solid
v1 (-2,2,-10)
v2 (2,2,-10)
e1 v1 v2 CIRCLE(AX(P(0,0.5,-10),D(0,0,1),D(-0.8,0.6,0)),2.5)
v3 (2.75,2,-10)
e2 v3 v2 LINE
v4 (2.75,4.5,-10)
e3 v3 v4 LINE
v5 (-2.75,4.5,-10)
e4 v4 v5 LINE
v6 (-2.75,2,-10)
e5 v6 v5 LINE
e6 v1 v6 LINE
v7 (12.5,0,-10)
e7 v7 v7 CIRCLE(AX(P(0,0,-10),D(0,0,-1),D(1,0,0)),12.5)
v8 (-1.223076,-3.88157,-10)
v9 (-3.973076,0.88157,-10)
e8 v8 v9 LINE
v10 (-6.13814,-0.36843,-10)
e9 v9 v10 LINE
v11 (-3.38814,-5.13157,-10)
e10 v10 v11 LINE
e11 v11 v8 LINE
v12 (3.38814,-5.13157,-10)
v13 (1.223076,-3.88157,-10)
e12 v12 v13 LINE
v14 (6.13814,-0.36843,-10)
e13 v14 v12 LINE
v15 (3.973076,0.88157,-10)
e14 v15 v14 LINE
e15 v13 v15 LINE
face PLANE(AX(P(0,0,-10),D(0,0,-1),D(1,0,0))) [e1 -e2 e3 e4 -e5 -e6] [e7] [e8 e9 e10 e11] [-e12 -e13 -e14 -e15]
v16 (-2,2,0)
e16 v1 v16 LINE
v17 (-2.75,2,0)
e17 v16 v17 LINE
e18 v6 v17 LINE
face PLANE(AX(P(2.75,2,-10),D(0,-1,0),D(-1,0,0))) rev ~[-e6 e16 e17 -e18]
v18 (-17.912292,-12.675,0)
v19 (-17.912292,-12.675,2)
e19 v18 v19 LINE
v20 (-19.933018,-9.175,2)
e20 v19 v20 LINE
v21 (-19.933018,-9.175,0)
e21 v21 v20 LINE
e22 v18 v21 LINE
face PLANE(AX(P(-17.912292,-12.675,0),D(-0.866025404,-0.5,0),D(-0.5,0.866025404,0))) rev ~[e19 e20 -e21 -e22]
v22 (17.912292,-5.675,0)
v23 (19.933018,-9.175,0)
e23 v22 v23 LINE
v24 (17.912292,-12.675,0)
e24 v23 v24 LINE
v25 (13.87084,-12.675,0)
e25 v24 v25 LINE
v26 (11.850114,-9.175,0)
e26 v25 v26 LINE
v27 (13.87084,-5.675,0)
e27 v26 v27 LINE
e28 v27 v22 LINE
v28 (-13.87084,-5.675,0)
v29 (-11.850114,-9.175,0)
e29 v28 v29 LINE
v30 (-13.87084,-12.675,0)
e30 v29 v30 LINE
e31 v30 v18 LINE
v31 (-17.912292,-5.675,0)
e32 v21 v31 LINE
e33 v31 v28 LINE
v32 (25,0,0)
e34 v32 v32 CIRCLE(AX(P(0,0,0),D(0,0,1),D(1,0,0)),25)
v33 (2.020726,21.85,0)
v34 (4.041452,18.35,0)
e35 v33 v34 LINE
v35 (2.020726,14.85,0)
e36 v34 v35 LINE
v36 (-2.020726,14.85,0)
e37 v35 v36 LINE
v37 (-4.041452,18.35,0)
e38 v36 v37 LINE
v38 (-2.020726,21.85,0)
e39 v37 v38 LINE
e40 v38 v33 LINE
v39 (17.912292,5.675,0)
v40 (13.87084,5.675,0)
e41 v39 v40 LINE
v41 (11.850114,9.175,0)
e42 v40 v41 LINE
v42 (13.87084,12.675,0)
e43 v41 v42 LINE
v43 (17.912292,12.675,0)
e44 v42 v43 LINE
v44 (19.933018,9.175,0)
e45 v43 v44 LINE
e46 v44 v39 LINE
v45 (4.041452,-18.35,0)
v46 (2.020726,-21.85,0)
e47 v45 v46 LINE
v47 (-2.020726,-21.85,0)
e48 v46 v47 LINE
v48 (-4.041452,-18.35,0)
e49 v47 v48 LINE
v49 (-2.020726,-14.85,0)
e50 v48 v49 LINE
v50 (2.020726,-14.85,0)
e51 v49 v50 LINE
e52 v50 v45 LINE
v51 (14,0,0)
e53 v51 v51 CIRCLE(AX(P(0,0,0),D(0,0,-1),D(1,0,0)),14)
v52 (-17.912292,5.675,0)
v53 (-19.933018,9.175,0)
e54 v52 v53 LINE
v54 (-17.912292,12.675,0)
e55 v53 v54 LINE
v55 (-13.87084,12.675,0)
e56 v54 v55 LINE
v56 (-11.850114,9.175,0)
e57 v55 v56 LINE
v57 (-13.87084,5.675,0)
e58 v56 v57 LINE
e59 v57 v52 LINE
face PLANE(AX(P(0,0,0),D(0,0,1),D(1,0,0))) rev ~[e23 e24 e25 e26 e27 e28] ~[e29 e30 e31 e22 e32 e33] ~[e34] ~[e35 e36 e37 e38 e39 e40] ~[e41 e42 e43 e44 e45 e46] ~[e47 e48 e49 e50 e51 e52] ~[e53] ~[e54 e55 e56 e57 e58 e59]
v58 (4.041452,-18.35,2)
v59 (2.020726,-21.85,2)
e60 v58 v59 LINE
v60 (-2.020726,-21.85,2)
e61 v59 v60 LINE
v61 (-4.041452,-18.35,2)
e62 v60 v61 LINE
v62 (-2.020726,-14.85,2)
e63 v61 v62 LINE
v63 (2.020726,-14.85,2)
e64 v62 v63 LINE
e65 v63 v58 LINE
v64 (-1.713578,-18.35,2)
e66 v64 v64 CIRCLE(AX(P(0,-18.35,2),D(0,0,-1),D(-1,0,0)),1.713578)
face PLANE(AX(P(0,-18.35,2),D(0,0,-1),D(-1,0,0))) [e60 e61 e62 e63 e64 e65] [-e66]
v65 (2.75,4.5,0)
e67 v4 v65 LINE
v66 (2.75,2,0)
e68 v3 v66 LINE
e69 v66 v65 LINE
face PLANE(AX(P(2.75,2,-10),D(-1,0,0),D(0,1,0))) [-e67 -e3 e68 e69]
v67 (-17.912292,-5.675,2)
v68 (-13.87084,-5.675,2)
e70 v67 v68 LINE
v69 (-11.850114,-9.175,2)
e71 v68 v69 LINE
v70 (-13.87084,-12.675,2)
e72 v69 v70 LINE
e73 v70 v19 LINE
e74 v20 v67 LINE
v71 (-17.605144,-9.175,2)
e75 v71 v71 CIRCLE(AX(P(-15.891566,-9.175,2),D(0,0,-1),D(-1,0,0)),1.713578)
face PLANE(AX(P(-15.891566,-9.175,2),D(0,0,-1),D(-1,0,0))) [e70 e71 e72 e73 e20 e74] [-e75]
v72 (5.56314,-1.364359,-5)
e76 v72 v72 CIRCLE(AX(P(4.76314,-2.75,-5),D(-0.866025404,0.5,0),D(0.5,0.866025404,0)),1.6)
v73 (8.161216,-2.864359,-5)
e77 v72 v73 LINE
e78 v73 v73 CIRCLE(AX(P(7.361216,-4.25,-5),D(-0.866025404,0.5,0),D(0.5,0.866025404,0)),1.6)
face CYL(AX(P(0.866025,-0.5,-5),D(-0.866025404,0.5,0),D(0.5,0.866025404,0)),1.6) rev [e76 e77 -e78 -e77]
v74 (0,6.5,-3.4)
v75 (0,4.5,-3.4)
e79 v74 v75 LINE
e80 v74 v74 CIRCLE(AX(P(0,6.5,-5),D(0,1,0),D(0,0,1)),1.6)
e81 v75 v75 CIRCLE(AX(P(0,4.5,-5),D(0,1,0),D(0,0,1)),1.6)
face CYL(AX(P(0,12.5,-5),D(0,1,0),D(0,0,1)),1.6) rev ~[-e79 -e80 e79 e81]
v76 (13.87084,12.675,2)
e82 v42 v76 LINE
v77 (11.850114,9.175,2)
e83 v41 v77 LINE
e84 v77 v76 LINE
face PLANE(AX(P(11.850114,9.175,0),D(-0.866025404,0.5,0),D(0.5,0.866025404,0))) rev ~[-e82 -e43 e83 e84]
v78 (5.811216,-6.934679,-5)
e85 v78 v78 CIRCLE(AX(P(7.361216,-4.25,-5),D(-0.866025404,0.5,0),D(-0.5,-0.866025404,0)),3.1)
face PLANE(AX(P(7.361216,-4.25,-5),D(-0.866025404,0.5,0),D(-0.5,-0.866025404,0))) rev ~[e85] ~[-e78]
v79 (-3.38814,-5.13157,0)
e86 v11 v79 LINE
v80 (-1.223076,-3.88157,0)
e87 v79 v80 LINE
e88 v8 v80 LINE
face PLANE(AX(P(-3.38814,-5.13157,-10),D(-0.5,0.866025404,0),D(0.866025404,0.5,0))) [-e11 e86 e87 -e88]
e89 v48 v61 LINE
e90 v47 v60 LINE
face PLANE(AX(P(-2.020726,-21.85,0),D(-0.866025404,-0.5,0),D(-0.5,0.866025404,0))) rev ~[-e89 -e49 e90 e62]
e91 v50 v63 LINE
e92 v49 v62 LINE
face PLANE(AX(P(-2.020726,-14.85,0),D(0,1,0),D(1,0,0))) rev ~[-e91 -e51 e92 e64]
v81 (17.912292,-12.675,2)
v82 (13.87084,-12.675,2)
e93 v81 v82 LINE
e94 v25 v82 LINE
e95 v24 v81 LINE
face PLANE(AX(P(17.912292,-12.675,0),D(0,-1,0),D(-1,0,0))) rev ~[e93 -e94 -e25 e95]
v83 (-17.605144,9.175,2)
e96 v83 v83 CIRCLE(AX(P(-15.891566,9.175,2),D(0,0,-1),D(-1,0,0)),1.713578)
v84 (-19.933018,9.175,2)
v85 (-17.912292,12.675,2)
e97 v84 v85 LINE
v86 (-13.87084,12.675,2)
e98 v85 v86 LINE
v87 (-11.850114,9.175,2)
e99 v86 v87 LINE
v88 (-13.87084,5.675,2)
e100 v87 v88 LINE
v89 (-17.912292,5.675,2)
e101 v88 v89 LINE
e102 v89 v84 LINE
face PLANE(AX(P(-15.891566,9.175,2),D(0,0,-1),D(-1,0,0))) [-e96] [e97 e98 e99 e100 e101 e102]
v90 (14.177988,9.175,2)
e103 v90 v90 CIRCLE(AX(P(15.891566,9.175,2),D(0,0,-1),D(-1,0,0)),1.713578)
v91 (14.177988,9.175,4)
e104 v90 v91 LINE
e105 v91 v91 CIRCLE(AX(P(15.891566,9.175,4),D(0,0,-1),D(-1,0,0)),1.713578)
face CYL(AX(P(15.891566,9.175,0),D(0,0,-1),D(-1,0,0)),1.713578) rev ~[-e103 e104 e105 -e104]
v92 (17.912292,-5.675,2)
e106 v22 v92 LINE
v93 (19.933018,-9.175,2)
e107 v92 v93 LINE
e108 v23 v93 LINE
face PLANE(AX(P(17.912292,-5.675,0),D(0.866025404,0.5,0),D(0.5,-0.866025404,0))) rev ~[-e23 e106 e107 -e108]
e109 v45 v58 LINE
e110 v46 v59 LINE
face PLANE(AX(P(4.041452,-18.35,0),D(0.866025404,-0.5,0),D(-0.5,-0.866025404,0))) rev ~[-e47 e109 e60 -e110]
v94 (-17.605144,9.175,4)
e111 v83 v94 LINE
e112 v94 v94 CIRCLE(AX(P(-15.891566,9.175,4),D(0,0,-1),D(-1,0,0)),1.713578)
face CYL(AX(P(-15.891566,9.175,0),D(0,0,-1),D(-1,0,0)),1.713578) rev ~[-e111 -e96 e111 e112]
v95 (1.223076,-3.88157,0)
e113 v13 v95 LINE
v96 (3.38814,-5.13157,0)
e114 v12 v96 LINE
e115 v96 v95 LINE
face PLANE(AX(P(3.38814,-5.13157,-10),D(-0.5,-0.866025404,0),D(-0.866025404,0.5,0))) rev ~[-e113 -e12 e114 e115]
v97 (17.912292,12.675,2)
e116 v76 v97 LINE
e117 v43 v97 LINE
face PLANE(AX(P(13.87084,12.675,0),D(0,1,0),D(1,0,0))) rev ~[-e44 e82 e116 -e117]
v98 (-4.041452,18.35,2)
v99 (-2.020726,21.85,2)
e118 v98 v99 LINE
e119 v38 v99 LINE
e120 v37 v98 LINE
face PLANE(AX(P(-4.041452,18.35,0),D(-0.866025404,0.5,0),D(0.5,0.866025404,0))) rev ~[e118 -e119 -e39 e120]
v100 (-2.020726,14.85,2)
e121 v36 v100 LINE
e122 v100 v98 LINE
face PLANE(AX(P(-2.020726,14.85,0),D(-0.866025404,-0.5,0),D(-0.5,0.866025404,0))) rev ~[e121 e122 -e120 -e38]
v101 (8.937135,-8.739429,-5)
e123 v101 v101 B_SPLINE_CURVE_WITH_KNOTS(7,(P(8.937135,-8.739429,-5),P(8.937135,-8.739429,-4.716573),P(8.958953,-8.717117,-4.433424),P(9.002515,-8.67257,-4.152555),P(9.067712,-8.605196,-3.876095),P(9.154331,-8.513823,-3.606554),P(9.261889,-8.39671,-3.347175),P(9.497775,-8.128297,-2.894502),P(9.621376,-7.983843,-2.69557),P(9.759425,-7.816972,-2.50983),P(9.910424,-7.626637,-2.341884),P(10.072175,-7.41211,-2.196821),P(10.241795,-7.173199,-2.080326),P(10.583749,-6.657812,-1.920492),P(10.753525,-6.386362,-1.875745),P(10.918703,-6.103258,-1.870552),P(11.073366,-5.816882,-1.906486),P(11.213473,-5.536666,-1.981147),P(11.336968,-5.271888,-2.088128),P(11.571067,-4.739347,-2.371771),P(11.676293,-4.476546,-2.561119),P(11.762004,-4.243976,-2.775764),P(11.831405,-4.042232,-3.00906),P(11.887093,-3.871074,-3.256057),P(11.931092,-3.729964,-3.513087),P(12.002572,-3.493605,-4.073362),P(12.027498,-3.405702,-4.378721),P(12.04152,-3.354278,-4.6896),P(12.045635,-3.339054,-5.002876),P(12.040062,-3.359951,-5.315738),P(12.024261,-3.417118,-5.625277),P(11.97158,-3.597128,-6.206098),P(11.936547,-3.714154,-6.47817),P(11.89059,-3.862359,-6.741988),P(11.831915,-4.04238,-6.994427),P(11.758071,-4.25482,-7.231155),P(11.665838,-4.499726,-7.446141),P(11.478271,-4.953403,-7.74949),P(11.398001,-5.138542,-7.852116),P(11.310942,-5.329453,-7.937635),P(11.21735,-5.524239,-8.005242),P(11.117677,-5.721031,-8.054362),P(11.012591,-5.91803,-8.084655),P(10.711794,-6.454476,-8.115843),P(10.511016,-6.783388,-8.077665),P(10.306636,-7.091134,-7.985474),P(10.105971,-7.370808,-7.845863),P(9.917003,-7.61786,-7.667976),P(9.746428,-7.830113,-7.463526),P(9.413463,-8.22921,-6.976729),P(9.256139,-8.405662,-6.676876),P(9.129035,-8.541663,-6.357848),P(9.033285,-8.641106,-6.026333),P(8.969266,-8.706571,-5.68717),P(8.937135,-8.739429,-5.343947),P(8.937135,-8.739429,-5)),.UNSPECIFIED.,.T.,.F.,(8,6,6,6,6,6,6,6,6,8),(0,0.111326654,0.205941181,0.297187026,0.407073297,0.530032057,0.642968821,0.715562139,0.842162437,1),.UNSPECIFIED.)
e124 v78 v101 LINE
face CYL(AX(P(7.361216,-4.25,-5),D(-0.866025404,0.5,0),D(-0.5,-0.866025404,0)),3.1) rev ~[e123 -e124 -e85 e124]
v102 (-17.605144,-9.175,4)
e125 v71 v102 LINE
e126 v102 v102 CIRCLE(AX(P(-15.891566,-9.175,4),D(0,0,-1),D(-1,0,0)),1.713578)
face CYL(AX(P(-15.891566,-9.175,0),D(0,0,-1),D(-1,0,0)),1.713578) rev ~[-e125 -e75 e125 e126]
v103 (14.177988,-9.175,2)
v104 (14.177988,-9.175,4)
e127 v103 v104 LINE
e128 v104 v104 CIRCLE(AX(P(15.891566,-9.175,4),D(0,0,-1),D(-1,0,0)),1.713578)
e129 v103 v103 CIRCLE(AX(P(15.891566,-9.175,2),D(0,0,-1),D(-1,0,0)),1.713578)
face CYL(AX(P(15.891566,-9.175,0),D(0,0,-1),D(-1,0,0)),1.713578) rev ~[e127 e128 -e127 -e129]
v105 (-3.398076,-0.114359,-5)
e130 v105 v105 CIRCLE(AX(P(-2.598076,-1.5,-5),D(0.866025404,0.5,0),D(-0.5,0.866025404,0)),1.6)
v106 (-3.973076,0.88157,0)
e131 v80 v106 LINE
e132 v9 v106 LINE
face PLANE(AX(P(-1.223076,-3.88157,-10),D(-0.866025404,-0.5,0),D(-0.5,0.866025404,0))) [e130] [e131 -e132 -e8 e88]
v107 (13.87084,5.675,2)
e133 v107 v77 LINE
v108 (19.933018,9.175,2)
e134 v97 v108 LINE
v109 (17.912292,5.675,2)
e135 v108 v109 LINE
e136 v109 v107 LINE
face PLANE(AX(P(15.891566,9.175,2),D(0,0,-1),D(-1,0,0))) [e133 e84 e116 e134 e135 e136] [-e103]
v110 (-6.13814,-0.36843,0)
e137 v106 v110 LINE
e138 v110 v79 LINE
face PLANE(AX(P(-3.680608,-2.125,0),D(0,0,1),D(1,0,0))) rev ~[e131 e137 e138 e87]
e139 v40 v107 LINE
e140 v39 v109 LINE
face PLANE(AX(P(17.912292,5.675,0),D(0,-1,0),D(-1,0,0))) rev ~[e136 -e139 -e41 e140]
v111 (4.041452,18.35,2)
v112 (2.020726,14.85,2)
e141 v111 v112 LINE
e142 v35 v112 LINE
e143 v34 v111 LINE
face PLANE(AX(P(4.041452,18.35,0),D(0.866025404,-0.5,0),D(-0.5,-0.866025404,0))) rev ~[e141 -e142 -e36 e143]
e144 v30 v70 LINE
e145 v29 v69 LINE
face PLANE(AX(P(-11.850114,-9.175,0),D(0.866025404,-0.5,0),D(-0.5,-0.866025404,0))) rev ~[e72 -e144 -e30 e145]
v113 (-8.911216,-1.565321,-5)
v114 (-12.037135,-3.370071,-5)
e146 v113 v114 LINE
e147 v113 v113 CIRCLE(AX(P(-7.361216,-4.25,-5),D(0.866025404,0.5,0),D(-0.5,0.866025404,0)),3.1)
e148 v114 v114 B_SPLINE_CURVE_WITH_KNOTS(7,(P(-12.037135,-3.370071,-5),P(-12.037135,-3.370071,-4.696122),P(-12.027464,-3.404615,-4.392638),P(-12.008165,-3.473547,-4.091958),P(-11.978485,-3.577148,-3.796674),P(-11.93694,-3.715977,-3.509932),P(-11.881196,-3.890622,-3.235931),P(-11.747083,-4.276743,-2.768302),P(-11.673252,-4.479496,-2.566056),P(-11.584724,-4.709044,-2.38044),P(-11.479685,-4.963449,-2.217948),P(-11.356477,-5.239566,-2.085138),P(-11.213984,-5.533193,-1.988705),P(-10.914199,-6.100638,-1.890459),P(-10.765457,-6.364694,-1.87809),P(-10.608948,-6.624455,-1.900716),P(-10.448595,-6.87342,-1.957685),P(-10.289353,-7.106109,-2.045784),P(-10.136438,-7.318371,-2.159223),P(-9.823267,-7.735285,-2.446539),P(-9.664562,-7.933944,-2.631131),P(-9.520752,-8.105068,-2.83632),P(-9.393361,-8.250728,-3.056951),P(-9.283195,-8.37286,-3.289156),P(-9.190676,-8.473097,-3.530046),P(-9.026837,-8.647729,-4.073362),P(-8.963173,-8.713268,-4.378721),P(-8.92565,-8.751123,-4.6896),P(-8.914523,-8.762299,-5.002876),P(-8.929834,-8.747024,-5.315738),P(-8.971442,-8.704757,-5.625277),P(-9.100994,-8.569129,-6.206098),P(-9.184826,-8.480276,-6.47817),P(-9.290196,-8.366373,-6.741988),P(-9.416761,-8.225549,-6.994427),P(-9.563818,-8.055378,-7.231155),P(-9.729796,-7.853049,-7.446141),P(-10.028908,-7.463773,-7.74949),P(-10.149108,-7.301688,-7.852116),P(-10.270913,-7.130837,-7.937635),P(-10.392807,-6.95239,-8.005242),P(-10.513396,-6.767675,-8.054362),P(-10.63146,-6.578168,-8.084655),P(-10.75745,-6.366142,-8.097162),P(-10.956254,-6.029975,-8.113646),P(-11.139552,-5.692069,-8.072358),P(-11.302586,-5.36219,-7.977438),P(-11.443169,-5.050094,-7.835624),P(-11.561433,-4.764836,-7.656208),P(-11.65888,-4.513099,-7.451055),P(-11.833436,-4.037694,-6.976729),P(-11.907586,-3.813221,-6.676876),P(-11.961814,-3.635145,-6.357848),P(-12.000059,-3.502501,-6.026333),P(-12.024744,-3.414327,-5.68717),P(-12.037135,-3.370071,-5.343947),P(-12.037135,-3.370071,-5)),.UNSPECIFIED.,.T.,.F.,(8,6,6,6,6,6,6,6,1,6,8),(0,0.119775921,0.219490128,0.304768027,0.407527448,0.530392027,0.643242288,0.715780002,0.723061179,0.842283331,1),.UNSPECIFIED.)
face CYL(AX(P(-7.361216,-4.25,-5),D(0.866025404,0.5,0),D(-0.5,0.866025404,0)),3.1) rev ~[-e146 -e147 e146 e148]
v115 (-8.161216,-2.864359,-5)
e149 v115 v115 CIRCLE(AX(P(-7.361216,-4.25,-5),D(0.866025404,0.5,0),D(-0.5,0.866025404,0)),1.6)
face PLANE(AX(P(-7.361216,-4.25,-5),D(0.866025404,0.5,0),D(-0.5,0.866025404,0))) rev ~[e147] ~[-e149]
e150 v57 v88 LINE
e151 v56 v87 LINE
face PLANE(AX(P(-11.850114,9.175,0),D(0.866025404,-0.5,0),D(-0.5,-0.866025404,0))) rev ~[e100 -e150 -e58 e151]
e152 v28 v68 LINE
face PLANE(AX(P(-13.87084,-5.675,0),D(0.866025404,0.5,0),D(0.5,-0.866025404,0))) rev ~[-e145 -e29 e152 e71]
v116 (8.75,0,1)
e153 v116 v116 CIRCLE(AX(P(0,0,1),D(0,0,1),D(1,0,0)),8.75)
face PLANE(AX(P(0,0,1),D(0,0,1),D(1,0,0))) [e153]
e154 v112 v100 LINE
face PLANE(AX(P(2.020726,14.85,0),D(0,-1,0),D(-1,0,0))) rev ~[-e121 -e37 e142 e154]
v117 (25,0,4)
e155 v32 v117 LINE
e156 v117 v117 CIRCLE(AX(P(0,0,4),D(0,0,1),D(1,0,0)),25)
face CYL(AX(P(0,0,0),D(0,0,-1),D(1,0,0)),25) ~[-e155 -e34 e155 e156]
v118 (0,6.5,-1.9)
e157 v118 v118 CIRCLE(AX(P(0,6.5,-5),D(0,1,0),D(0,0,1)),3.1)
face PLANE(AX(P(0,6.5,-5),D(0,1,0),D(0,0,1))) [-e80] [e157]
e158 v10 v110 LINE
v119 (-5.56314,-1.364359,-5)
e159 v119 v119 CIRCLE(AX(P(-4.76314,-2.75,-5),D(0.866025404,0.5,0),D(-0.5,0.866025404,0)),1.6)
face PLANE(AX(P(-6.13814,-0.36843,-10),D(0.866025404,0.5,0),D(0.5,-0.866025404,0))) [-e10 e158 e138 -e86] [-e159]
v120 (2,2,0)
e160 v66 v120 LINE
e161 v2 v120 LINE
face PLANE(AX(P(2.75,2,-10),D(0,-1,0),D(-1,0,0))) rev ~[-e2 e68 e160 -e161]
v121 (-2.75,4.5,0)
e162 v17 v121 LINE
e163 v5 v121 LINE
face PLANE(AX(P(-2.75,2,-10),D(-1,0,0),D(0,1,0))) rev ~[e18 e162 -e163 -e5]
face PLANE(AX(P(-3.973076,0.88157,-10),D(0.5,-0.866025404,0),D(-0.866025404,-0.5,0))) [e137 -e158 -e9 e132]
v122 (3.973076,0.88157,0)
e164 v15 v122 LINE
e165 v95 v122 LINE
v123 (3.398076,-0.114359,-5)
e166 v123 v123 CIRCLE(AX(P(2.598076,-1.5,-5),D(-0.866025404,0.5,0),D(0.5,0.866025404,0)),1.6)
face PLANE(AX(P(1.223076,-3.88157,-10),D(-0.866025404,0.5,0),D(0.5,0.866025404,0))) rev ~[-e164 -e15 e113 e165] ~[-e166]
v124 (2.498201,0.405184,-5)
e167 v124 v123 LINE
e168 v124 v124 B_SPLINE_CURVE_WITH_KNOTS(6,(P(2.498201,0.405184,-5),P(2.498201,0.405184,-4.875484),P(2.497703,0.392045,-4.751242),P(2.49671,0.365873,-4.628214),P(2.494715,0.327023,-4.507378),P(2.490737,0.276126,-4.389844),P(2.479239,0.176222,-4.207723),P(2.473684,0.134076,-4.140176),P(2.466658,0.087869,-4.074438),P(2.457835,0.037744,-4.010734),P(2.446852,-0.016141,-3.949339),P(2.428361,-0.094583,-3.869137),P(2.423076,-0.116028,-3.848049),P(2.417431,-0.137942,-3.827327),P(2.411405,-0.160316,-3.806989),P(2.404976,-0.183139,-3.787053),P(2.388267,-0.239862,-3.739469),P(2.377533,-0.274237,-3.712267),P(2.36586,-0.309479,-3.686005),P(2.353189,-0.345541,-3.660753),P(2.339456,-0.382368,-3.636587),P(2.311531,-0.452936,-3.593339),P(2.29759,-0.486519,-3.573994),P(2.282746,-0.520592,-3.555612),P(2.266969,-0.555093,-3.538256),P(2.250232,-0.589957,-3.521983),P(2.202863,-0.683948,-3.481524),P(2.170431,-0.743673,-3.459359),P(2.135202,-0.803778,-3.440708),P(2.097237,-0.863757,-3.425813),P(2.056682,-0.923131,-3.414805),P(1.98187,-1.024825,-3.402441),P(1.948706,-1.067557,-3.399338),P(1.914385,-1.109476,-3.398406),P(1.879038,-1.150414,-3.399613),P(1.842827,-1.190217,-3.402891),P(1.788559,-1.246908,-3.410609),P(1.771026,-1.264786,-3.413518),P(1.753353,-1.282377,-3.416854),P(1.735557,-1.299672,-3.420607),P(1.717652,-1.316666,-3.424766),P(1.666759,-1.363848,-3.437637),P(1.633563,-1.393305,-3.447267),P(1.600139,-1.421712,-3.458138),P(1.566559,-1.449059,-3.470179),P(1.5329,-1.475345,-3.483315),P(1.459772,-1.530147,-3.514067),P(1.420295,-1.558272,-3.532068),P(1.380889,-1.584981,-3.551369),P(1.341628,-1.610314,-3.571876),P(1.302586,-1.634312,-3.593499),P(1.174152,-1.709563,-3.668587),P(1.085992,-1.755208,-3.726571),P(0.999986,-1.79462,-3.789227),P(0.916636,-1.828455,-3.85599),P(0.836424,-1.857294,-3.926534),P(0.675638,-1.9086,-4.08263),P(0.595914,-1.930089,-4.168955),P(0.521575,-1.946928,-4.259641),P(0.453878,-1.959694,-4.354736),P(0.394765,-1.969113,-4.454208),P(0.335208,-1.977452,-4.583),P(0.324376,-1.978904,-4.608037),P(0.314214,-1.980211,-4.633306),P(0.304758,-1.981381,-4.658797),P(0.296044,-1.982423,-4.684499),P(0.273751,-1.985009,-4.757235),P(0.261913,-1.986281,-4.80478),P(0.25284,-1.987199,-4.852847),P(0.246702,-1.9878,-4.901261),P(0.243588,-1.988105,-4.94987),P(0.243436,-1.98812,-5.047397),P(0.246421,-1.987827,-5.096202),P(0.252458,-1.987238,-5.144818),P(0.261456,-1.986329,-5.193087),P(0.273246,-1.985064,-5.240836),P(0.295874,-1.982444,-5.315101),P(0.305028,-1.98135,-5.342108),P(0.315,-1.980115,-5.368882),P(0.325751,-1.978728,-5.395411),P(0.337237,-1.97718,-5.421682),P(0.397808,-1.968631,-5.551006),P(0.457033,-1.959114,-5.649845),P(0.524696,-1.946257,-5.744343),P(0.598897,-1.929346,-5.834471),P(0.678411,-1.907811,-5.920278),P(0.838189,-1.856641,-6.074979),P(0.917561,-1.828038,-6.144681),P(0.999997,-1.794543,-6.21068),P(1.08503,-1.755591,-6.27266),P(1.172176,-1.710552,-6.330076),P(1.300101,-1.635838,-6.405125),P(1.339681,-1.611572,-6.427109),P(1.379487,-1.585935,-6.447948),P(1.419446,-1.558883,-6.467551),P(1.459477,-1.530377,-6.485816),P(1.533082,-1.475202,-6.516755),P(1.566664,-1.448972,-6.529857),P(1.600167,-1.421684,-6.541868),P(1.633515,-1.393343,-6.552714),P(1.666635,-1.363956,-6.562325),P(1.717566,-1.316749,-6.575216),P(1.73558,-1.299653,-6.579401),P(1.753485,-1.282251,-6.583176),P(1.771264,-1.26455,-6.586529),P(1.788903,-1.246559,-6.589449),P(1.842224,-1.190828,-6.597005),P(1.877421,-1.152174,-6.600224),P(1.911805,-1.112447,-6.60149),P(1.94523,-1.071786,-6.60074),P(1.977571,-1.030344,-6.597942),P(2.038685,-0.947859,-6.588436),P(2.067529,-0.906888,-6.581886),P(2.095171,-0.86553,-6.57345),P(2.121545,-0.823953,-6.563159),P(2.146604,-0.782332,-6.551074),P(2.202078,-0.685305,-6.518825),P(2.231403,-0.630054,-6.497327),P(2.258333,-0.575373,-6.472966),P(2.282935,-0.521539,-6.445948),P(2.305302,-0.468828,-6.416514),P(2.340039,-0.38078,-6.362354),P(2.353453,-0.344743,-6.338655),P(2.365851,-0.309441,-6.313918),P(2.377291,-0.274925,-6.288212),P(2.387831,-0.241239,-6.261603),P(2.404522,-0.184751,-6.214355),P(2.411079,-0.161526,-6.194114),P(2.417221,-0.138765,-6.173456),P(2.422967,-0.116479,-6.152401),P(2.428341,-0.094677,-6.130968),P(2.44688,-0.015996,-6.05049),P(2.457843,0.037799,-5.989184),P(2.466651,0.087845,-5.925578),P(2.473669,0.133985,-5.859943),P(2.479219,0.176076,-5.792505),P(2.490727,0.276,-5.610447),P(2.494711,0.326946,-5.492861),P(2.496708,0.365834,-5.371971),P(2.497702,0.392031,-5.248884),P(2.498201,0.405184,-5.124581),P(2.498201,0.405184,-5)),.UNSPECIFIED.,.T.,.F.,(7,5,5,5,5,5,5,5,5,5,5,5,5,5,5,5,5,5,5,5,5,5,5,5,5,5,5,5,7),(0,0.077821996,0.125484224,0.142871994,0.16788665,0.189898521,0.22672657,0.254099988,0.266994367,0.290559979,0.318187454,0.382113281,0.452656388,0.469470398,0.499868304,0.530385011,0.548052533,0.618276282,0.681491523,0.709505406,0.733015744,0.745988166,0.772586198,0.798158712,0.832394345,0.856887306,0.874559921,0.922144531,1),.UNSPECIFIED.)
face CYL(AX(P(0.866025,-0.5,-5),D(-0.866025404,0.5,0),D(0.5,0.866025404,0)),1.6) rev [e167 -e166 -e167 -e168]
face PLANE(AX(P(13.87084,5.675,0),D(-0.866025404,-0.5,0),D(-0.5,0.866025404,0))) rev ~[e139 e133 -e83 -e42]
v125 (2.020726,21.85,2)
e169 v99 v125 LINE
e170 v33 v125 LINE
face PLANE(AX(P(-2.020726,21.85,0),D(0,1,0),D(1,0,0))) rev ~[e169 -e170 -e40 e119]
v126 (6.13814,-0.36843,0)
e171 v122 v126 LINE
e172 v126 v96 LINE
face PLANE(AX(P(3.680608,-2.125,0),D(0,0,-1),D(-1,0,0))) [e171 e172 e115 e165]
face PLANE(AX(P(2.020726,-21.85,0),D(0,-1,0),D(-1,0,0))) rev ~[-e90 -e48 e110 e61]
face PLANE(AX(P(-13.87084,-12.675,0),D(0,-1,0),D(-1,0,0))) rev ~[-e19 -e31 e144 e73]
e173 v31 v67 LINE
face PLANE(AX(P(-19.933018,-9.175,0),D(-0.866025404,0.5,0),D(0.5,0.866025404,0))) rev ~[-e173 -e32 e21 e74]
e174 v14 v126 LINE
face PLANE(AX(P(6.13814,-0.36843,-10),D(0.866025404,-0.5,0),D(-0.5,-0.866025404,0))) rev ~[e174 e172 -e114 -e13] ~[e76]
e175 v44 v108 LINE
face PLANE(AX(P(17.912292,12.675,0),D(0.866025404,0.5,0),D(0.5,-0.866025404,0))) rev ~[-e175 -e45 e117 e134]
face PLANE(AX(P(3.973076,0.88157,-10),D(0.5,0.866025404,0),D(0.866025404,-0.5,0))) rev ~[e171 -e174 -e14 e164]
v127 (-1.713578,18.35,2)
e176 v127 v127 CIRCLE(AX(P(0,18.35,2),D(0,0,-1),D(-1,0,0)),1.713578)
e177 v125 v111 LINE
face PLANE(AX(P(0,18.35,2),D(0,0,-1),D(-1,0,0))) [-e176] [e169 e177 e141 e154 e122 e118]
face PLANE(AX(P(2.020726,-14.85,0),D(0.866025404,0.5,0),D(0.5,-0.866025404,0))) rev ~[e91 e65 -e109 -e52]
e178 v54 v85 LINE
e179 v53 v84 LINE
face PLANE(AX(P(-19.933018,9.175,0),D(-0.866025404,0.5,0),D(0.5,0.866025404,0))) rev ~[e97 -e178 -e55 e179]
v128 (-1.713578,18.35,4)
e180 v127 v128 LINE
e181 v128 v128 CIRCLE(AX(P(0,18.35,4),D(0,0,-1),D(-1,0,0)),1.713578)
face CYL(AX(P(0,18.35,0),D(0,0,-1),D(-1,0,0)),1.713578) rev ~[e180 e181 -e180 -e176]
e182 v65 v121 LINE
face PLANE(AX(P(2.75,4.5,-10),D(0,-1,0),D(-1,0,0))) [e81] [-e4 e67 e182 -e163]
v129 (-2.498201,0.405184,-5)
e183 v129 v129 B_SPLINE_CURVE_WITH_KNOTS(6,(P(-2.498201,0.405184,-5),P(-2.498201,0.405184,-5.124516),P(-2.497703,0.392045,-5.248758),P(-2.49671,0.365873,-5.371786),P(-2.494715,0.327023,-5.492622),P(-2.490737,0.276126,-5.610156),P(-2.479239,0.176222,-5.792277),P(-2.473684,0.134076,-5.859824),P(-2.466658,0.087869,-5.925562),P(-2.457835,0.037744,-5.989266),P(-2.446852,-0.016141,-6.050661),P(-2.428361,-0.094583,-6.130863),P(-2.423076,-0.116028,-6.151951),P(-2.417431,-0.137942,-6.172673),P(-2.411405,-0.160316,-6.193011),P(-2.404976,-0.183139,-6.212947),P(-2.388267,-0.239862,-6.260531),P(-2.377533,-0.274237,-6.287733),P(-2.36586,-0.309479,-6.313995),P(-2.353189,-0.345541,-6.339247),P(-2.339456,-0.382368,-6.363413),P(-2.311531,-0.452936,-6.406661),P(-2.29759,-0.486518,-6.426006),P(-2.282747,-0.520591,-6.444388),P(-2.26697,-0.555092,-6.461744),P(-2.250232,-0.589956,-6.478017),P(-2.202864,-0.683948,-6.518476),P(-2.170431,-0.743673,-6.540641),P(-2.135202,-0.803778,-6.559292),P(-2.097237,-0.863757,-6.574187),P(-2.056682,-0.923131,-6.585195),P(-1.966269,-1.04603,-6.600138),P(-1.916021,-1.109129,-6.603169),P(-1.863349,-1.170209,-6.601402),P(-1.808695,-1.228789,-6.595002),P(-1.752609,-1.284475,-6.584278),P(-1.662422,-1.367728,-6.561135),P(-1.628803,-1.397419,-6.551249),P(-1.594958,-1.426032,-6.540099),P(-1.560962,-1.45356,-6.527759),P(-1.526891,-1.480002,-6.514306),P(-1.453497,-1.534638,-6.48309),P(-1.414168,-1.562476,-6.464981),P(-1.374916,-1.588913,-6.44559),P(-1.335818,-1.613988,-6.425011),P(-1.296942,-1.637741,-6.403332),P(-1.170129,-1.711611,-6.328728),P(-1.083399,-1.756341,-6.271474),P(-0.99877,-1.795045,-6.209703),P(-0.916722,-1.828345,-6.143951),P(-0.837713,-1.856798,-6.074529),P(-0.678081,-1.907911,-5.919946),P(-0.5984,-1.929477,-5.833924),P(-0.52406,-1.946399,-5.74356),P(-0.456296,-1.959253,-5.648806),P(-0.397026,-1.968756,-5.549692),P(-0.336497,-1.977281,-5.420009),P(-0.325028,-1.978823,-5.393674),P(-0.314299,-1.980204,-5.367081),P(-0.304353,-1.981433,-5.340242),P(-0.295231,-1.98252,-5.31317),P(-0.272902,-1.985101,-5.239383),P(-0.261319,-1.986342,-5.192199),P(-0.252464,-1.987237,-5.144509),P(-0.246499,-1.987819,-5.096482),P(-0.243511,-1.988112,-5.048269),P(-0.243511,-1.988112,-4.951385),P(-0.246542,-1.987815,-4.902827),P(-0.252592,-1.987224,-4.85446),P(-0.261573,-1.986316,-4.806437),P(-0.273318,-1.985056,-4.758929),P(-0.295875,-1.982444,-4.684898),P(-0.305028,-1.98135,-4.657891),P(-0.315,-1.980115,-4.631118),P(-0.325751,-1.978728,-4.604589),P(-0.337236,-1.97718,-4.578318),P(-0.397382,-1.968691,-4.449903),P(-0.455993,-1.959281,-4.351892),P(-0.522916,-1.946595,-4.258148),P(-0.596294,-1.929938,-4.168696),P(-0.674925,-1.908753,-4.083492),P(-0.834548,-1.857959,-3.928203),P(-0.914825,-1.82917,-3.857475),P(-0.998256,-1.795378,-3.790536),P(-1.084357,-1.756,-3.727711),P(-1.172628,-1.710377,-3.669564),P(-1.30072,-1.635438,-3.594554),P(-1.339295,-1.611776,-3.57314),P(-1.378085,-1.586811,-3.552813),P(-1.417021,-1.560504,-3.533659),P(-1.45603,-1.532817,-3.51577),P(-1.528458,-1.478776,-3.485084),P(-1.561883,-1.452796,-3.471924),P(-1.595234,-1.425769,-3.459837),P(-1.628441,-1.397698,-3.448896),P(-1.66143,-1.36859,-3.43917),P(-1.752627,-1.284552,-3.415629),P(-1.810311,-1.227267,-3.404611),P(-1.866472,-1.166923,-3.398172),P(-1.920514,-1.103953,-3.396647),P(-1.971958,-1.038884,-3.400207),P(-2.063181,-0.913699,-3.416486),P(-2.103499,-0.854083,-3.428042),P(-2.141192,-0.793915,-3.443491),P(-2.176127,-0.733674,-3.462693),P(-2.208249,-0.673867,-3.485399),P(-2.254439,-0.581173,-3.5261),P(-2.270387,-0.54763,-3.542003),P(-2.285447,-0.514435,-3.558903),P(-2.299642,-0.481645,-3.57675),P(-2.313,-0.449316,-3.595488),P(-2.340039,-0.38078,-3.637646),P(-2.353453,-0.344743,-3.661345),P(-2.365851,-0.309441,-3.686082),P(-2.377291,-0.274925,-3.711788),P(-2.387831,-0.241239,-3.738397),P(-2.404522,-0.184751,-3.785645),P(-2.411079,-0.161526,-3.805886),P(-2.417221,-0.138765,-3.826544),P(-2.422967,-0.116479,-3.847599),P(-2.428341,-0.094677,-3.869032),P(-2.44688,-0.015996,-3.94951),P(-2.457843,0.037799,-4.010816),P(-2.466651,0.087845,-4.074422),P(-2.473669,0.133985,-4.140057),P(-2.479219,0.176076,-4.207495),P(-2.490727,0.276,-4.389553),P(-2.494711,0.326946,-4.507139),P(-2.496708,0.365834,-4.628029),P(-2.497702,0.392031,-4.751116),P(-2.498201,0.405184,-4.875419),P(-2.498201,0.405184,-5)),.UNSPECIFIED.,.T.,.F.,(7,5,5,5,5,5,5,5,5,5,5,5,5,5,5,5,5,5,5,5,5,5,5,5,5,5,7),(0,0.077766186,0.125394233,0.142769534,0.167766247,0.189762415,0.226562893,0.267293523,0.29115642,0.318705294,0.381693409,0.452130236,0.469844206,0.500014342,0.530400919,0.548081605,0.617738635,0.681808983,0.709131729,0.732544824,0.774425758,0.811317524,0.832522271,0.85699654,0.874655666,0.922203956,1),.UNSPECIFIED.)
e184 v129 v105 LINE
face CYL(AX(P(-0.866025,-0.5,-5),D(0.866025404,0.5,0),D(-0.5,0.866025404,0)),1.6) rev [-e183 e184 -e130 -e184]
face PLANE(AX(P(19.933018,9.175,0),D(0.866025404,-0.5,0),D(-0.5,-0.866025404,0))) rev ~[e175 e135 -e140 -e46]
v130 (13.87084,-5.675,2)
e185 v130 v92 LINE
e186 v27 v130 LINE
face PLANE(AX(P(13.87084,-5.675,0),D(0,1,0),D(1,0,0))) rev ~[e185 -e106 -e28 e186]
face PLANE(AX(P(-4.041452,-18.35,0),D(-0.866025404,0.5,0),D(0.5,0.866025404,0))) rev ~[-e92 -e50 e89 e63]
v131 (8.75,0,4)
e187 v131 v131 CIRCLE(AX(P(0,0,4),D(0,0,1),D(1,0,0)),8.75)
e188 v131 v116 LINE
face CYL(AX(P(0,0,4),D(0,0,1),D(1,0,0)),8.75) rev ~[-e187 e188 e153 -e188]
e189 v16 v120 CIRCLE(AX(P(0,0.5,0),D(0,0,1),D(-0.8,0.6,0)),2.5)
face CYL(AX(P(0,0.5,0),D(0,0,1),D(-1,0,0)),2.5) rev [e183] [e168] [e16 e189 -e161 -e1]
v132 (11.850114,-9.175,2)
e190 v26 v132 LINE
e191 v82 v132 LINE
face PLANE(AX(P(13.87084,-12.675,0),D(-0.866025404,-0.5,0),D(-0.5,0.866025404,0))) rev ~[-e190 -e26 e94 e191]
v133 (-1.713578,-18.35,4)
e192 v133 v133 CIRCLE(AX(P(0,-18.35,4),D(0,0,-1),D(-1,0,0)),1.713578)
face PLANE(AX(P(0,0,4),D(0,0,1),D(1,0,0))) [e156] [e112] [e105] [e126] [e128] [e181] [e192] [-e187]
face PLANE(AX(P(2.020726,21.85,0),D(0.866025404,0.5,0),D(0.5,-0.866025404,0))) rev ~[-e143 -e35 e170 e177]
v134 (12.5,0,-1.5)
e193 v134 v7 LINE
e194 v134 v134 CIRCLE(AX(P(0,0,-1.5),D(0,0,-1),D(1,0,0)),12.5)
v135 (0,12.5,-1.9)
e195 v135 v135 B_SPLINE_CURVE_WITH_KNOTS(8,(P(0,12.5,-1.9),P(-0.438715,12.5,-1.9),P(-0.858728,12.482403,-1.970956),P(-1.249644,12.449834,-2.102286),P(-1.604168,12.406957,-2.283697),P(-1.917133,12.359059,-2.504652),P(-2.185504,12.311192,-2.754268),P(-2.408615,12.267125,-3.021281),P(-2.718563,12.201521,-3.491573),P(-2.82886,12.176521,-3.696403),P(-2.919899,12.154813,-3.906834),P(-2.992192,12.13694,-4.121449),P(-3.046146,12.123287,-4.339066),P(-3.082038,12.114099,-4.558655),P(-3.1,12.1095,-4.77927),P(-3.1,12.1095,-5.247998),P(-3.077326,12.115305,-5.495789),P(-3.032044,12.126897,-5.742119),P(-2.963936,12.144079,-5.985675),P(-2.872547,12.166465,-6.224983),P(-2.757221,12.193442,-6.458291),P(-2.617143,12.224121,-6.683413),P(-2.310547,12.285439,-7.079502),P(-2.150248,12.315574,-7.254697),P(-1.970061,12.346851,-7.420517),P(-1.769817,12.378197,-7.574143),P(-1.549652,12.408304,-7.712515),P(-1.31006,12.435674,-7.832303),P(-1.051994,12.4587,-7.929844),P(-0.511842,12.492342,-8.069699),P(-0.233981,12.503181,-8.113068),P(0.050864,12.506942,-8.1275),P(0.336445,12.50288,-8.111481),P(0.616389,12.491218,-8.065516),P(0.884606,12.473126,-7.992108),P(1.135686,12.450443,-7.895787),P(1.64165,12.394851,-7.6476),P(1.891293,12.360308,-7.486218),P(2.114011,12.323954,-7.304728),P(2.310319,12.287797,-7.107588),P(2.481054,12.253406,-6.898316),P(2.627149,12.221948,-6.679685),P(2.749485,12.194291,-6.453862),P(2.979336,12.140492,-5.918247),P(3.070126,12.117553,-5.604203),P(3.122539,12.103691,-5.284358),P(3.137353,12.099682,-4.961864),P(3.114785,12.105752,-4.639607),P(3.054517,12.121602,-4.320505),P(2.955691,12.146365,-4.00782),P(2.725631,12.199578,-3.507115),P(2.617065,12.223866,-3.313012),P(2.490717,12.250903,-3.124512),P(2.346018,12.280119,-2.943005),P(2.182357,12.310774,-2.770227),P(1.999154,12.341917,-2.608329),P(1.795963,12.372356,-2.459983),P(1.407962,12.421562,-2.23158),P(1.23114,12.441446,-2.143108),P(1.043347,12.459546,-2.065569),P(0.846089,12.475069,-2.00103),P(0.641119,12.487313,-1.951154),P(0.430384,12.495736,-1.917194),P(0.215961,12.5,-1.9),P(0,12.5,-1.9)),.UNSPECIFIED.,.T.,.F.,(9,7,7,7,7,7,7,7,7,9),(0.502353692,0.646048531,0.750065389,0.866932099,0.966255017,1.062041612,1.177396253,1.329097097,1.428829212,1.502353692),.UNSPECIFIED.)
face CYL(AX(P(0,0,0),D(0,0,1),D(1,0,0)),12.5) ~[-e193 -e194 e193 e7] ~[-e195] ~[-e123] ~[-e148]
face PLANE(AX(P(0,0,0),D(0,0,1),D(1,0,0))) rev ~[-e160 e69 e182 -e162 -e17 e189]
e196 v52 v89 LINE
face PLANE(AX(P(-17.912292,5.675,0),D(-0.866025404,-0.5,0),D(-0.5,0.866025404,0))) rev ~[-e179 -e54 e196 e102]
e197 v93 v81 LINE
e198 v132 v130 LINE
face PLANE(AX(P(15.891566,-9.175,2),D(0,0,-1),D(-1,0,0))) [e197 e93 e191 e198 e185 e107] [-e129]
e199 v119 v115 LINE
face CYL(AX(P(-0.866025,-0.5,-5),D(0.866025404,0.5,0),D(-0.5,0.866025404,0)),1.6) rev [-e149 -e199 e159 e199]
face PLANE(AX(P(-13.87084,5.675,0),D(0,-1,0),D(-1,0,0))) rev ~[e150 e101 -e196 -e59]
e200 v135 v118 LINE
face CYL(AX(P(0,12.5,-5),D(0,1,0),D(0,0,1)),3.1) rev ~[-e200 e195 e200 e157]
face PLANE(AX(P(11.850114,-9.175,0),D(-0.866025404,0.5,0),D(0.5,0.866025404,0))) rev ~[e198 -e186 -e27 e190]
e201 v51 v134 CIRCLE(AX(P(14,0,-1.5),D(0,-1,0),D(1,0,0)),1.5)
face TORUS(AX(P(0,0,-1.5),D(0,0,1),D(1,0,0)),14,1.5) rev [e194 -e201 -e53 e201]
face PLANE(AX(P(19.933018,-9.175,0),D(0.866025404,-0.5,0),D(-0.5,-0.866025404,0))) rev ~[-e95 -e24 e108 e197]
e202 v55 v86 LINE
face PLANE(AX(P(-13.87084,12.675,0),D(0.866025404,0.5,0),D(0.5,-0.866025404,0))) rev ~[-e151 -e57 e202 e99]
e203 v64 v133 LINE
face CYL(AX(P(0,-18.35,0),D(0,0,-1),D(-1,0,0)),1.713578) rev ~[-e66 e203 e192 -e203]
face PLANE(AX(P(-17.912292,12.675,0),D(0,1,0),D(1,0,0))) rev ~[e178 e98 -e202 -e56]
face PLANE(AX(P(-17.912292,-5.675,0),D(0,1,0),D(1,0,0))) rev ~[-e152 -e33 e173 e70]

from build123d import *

# Parameters (mm, degrees)
SKETCH1_R               = 25
BOSS_EXTRUDE1_DEPTH     = 4
SKETCH2_R               = 1.713577746
CUT_EXTRUDE1_DEPTH      = 4
CUT_EXTRUDE2_DEPTH      = 2
SKETCH4_R               = 12.5
SKETCH4_R_2             = 2.5
BOSS_EXTRUDE2_DEPTH     = 10
SKETCH5_R               = 1.6
CUT_EXTRUDE3_DEPTH      = 12.5
SKETCH6_R               = 3.1
CUT_EXTRUDE4_DEPTH      = 6
FILLET1_R               = 1.5
SKETCH9_R               = 8.75
CUT_EXTRUDE6_DEPTH      = 3
SKETCH12_W              = 5.5
SKETCH12_H              = 2.5
CUT_EXTRUDE7_DEPTH      = 10
CUT_EXTRUDE8_DEPTH      = 10
CUT_EXTRUDE8_DEPTH_BACK = 2
SKETCH17_R              = 1.6
CUT_EXTRUDE9_DEPTH      = 30
CUT_EXTRUDE9_DEPTH_BACK = 2
SKETCH18_R              = 1.6
CUT_EXTRUDE10_START     = -3
SKETCH20_R              = 3.1
CUT_EXTRUDE10_DEPTH     = 4
CUT_EXTRUDE11_START     = -3
SKETCH21_R              = 3.1
CUT_EXTRUDE11_DEPTH     = 4


with BuildPart() as part:
    # Sketch1 → Boss-Extrude1 (new body)
    with BuildSketch(Plane.XY):
        Circle(SKETCH1_R)
    extrude(amount=BOSS_EXTRUDE1_DEPTH)

    # Sketch2 → Cut-Extrude1 (cut)
    with BuildSketch(Plane(origin=(0, 0, 0), x_dir=(-1, 0, 0), z_dir=(0, 0, -1))):
        with Locations((0, 18.35)):
            Circle(SKETCH2_R)
        with Locations((15.891566159, 9.175)):
            Circle(SKETCH2_R)
        with Locations((15.891566159, -9.175)):
            Circle(SKETCH2_R)
        with Locations((0, -18.35)):
            Circle(SKETCH2_R)
        with Locations((-15.891566159, -9.175)):
            Circle(SKETCH2_R)
        with Locations((-15.891566159, 9.175)):
            Circle(SKETCH2_R)
    extrude(amount=-CUT_EXTRUDE1_DEPTH, mode=Mode.SUBTRACT)

    # Sketch3 → Cut-Extrude2 (cut)
    with BuildSketch(Plane(origin=(0, 0, 0), x_dir=(-1, 0, 0), z_dir=(0, 0, -1))):
        Polygon((13.870840217, 5.675), (17.912292102, 5.675), (19.933018044, 9.175), (17.912292102, 12.675), (13.870840217, 12.675), (11.850114275, 9.175), align=None)
        Polygon((4.041451884, 18.35), (2.020725942, 21.85), (-2.020725942, 21.85), (-4.041451884, 18.35), (-2.020725942, 14.85), (2.020725942, 14.85), align=None)
        Polygon((11.850114275, -9.175), (13.870840217, -12.675), (17.912292102, -12.675), (19.933018044, -9.175), (17.912292102, -5.675), (13.870840217, -5.675), align=None)
        Polygon((-2.020725942, -14.85), (-4.041451884, -18.35), (-2.020725942, -21.85), (2.020725942, -21.85), (4.041451884, -18.35), (2.020725942, -14.85), align=None)
        Polygon((-13.870840217, -5.675), (-17.912292102, -5.675), (-19.933018044, -9.175), (-17.912292102, -12.675), (-13.870840217, -12.675), (-11.850114275, -9.175), align=None)
        Polygon((-11.850114275, 9.175), (-13.870840217, 12.675), (-17.912292102, 12.675), (-19.933018044, 9.175), (-17.912292102, 5.675), (-13.870840217, 5.675), align=None)
    extrude(amount=-CUT_EXTRUDE2_DEPTH, mode=Mode.SUBTRACT)

    # Sketch4 → Boss-Extrude2 (add)
    with BuildSketch(Plane(origin=(0, 0, 0), x_dir=(-1, 0, 0), z_dir=(0, 0, -1))):
        with Locations(Location((0, 0, 0), (0, 0, 180))):
            Circle(SKETCH4_R)
        with Locations((0, 0.5)):
            Circle(SKETCH4_R_2, mode=Mode.SUBTRACT)
    extrude(amount=BOSS_EXTRUDE2_DEPTH)

    # Sketch5 → Cut-Extrude3 (cut)
    with BuildSketch(Plane(origin=(0, 12.5, 0), x_dir=(1, 0, 0), z_dir=(0, 1, 0))):
        with Locations(Location((0, 5, 0), (0, 0, 270))):
            Circle(SKETCH5_R)
    extrude(amount=-CUT_EXTRUDE3_DEPTH, mode=Mode.SUBTRACT)

    # Sketch6 → Cut-Extrude4 (cut)
    with BuildSketch(Plane(origin=(0, 12.5, 0), x_dir=(1, 0, 0), z_dir=(0, 1, 0))):
        with Locations(Location((0, 5, 0), (0, 0, 270))):
            Circle(SKETCH6_R)
    extrude(amount=-CUT_EXTRUDE4_DEPTH, mode=Mode.SUBTRACT)

    # Fillet1
    fillet1_edges = [part.edges().sort_by_distance(p)[0] for p in [
        (-12.5, 0, 0),
    ]]
    fillet(fillet1_edges, radius=FILLET1_R)

    # Sketch9 → Cut-Extrude6 (cut)
    with BuildSketch(Plane.XY.offset(4)):
        Circle(SKETCH9_R)
    extrude(amount=-CUT_EXTRUDE6_DEPTH, mode=Mode.SUBTRACT)

    # Sketch12 → Cut-Extrude7 (cut)
    with BuildSketch(Plane(origin=(0, 0, -10), x_dir=(-1, 0, 0), z_dir=(0, 0, -1))):
        Polygon((1.223076211, -3.88156986), (3.973076211, 0.88156986), (6.138139721, -0.36843014), (3.388139721, -5.13156986), align=None)
        with Locations((0, 3.25)):
            Rectangle(SKETCH12_W, SKETCH12_H)
        Polygon((-3.388139721, -5.13156986), (-1.223076211, -3.88156986), (-3.973076211, 0.88156986), (-6.138139721, -0.36843014), align=None)
    extrude(amount=-CUT_EXTRUDE7_DEPTH, mode=Mode.SUBTRACT)

    # Sketch17 → Cut-Extrude8 (cut, two sides: drawn at the far end of the back side and taken through both)
    with BuildSketch(Plane(origin=(2.598076211, -1.5, 0), x_dir=(0, 0, -1), z_dir=(0.8660254037844387, -0.4999999999999998, 0)).offset(-CUT_EXTRUDE8_DEPTH_BACK)):
        with Locations(Location((5, 0, 0), (0, 0, 90))):
            Circle(SKETCH17_R)
    extrude(amount=CUT_EXTRUDE8_DEPTH + CUT_EXTRUDE8_DEPTH_BACK, mode=Mode.SUBTRACT)

    # Sketch18 → Cut-Extrude9 (cut, two sides: drawn at the far end of the back side and taken through both)
    with BuildSketch(Plane(origin=(-2.598076211, -1.5, 0), x_dir=(0, 0, 1), z_dir=(-0.8660254037844388, -0.49999999999999983, 0)).offset(-CUT_EXTRUDE9_DEPTH_BACK)):
        with Locations(Location((-5, 0, 0), (0, 0, 90))):
            Circle(SKETCH18_R)
    extrude(amount=CUT_EXTRUDE9_DEPTH + CUT_EXTRUDE9_DEPTH_BACK, mode=Mode.SUBTRACT)

    # Sketch20 → Cut-Extrude10 (cut)
    with BuildSketch(Plane(origin=(-4.763139721, -2.75, 0), x_dir=(0, 0, -1), z_dir=(0.866025403784439, 0.4999999999999994, 0)).offset(CUT_EXTRUDE10_START)):
        with Locations(Location((5, 0, 0), (0, 0, 90))):
            Circle(SKETCH20_R)
    extrude(amount=-CUT_EXTRUDE10_DEPTH, mode=Mode.SUBTRACT)

    # Sketch21 → Cut-Extrude11 (cut)
    with BuildSketch(Plane(origin=(4.763139721, -2.75, 0), x_dir=(0, 0, 1), z_dir=(-0.866025403784439, 0.4999999999999994, 0)).offset(CUT_EXTRUDE11_START)):
        with Locations(Location((-5, 0, 0), (0, 0, 270))):
            Circle(SKETCH21_R)
    extrude(amount=-CUT_EXTRUDE11_DEPTH, mode=Mode.SUBTRACT)


solid = part.part
